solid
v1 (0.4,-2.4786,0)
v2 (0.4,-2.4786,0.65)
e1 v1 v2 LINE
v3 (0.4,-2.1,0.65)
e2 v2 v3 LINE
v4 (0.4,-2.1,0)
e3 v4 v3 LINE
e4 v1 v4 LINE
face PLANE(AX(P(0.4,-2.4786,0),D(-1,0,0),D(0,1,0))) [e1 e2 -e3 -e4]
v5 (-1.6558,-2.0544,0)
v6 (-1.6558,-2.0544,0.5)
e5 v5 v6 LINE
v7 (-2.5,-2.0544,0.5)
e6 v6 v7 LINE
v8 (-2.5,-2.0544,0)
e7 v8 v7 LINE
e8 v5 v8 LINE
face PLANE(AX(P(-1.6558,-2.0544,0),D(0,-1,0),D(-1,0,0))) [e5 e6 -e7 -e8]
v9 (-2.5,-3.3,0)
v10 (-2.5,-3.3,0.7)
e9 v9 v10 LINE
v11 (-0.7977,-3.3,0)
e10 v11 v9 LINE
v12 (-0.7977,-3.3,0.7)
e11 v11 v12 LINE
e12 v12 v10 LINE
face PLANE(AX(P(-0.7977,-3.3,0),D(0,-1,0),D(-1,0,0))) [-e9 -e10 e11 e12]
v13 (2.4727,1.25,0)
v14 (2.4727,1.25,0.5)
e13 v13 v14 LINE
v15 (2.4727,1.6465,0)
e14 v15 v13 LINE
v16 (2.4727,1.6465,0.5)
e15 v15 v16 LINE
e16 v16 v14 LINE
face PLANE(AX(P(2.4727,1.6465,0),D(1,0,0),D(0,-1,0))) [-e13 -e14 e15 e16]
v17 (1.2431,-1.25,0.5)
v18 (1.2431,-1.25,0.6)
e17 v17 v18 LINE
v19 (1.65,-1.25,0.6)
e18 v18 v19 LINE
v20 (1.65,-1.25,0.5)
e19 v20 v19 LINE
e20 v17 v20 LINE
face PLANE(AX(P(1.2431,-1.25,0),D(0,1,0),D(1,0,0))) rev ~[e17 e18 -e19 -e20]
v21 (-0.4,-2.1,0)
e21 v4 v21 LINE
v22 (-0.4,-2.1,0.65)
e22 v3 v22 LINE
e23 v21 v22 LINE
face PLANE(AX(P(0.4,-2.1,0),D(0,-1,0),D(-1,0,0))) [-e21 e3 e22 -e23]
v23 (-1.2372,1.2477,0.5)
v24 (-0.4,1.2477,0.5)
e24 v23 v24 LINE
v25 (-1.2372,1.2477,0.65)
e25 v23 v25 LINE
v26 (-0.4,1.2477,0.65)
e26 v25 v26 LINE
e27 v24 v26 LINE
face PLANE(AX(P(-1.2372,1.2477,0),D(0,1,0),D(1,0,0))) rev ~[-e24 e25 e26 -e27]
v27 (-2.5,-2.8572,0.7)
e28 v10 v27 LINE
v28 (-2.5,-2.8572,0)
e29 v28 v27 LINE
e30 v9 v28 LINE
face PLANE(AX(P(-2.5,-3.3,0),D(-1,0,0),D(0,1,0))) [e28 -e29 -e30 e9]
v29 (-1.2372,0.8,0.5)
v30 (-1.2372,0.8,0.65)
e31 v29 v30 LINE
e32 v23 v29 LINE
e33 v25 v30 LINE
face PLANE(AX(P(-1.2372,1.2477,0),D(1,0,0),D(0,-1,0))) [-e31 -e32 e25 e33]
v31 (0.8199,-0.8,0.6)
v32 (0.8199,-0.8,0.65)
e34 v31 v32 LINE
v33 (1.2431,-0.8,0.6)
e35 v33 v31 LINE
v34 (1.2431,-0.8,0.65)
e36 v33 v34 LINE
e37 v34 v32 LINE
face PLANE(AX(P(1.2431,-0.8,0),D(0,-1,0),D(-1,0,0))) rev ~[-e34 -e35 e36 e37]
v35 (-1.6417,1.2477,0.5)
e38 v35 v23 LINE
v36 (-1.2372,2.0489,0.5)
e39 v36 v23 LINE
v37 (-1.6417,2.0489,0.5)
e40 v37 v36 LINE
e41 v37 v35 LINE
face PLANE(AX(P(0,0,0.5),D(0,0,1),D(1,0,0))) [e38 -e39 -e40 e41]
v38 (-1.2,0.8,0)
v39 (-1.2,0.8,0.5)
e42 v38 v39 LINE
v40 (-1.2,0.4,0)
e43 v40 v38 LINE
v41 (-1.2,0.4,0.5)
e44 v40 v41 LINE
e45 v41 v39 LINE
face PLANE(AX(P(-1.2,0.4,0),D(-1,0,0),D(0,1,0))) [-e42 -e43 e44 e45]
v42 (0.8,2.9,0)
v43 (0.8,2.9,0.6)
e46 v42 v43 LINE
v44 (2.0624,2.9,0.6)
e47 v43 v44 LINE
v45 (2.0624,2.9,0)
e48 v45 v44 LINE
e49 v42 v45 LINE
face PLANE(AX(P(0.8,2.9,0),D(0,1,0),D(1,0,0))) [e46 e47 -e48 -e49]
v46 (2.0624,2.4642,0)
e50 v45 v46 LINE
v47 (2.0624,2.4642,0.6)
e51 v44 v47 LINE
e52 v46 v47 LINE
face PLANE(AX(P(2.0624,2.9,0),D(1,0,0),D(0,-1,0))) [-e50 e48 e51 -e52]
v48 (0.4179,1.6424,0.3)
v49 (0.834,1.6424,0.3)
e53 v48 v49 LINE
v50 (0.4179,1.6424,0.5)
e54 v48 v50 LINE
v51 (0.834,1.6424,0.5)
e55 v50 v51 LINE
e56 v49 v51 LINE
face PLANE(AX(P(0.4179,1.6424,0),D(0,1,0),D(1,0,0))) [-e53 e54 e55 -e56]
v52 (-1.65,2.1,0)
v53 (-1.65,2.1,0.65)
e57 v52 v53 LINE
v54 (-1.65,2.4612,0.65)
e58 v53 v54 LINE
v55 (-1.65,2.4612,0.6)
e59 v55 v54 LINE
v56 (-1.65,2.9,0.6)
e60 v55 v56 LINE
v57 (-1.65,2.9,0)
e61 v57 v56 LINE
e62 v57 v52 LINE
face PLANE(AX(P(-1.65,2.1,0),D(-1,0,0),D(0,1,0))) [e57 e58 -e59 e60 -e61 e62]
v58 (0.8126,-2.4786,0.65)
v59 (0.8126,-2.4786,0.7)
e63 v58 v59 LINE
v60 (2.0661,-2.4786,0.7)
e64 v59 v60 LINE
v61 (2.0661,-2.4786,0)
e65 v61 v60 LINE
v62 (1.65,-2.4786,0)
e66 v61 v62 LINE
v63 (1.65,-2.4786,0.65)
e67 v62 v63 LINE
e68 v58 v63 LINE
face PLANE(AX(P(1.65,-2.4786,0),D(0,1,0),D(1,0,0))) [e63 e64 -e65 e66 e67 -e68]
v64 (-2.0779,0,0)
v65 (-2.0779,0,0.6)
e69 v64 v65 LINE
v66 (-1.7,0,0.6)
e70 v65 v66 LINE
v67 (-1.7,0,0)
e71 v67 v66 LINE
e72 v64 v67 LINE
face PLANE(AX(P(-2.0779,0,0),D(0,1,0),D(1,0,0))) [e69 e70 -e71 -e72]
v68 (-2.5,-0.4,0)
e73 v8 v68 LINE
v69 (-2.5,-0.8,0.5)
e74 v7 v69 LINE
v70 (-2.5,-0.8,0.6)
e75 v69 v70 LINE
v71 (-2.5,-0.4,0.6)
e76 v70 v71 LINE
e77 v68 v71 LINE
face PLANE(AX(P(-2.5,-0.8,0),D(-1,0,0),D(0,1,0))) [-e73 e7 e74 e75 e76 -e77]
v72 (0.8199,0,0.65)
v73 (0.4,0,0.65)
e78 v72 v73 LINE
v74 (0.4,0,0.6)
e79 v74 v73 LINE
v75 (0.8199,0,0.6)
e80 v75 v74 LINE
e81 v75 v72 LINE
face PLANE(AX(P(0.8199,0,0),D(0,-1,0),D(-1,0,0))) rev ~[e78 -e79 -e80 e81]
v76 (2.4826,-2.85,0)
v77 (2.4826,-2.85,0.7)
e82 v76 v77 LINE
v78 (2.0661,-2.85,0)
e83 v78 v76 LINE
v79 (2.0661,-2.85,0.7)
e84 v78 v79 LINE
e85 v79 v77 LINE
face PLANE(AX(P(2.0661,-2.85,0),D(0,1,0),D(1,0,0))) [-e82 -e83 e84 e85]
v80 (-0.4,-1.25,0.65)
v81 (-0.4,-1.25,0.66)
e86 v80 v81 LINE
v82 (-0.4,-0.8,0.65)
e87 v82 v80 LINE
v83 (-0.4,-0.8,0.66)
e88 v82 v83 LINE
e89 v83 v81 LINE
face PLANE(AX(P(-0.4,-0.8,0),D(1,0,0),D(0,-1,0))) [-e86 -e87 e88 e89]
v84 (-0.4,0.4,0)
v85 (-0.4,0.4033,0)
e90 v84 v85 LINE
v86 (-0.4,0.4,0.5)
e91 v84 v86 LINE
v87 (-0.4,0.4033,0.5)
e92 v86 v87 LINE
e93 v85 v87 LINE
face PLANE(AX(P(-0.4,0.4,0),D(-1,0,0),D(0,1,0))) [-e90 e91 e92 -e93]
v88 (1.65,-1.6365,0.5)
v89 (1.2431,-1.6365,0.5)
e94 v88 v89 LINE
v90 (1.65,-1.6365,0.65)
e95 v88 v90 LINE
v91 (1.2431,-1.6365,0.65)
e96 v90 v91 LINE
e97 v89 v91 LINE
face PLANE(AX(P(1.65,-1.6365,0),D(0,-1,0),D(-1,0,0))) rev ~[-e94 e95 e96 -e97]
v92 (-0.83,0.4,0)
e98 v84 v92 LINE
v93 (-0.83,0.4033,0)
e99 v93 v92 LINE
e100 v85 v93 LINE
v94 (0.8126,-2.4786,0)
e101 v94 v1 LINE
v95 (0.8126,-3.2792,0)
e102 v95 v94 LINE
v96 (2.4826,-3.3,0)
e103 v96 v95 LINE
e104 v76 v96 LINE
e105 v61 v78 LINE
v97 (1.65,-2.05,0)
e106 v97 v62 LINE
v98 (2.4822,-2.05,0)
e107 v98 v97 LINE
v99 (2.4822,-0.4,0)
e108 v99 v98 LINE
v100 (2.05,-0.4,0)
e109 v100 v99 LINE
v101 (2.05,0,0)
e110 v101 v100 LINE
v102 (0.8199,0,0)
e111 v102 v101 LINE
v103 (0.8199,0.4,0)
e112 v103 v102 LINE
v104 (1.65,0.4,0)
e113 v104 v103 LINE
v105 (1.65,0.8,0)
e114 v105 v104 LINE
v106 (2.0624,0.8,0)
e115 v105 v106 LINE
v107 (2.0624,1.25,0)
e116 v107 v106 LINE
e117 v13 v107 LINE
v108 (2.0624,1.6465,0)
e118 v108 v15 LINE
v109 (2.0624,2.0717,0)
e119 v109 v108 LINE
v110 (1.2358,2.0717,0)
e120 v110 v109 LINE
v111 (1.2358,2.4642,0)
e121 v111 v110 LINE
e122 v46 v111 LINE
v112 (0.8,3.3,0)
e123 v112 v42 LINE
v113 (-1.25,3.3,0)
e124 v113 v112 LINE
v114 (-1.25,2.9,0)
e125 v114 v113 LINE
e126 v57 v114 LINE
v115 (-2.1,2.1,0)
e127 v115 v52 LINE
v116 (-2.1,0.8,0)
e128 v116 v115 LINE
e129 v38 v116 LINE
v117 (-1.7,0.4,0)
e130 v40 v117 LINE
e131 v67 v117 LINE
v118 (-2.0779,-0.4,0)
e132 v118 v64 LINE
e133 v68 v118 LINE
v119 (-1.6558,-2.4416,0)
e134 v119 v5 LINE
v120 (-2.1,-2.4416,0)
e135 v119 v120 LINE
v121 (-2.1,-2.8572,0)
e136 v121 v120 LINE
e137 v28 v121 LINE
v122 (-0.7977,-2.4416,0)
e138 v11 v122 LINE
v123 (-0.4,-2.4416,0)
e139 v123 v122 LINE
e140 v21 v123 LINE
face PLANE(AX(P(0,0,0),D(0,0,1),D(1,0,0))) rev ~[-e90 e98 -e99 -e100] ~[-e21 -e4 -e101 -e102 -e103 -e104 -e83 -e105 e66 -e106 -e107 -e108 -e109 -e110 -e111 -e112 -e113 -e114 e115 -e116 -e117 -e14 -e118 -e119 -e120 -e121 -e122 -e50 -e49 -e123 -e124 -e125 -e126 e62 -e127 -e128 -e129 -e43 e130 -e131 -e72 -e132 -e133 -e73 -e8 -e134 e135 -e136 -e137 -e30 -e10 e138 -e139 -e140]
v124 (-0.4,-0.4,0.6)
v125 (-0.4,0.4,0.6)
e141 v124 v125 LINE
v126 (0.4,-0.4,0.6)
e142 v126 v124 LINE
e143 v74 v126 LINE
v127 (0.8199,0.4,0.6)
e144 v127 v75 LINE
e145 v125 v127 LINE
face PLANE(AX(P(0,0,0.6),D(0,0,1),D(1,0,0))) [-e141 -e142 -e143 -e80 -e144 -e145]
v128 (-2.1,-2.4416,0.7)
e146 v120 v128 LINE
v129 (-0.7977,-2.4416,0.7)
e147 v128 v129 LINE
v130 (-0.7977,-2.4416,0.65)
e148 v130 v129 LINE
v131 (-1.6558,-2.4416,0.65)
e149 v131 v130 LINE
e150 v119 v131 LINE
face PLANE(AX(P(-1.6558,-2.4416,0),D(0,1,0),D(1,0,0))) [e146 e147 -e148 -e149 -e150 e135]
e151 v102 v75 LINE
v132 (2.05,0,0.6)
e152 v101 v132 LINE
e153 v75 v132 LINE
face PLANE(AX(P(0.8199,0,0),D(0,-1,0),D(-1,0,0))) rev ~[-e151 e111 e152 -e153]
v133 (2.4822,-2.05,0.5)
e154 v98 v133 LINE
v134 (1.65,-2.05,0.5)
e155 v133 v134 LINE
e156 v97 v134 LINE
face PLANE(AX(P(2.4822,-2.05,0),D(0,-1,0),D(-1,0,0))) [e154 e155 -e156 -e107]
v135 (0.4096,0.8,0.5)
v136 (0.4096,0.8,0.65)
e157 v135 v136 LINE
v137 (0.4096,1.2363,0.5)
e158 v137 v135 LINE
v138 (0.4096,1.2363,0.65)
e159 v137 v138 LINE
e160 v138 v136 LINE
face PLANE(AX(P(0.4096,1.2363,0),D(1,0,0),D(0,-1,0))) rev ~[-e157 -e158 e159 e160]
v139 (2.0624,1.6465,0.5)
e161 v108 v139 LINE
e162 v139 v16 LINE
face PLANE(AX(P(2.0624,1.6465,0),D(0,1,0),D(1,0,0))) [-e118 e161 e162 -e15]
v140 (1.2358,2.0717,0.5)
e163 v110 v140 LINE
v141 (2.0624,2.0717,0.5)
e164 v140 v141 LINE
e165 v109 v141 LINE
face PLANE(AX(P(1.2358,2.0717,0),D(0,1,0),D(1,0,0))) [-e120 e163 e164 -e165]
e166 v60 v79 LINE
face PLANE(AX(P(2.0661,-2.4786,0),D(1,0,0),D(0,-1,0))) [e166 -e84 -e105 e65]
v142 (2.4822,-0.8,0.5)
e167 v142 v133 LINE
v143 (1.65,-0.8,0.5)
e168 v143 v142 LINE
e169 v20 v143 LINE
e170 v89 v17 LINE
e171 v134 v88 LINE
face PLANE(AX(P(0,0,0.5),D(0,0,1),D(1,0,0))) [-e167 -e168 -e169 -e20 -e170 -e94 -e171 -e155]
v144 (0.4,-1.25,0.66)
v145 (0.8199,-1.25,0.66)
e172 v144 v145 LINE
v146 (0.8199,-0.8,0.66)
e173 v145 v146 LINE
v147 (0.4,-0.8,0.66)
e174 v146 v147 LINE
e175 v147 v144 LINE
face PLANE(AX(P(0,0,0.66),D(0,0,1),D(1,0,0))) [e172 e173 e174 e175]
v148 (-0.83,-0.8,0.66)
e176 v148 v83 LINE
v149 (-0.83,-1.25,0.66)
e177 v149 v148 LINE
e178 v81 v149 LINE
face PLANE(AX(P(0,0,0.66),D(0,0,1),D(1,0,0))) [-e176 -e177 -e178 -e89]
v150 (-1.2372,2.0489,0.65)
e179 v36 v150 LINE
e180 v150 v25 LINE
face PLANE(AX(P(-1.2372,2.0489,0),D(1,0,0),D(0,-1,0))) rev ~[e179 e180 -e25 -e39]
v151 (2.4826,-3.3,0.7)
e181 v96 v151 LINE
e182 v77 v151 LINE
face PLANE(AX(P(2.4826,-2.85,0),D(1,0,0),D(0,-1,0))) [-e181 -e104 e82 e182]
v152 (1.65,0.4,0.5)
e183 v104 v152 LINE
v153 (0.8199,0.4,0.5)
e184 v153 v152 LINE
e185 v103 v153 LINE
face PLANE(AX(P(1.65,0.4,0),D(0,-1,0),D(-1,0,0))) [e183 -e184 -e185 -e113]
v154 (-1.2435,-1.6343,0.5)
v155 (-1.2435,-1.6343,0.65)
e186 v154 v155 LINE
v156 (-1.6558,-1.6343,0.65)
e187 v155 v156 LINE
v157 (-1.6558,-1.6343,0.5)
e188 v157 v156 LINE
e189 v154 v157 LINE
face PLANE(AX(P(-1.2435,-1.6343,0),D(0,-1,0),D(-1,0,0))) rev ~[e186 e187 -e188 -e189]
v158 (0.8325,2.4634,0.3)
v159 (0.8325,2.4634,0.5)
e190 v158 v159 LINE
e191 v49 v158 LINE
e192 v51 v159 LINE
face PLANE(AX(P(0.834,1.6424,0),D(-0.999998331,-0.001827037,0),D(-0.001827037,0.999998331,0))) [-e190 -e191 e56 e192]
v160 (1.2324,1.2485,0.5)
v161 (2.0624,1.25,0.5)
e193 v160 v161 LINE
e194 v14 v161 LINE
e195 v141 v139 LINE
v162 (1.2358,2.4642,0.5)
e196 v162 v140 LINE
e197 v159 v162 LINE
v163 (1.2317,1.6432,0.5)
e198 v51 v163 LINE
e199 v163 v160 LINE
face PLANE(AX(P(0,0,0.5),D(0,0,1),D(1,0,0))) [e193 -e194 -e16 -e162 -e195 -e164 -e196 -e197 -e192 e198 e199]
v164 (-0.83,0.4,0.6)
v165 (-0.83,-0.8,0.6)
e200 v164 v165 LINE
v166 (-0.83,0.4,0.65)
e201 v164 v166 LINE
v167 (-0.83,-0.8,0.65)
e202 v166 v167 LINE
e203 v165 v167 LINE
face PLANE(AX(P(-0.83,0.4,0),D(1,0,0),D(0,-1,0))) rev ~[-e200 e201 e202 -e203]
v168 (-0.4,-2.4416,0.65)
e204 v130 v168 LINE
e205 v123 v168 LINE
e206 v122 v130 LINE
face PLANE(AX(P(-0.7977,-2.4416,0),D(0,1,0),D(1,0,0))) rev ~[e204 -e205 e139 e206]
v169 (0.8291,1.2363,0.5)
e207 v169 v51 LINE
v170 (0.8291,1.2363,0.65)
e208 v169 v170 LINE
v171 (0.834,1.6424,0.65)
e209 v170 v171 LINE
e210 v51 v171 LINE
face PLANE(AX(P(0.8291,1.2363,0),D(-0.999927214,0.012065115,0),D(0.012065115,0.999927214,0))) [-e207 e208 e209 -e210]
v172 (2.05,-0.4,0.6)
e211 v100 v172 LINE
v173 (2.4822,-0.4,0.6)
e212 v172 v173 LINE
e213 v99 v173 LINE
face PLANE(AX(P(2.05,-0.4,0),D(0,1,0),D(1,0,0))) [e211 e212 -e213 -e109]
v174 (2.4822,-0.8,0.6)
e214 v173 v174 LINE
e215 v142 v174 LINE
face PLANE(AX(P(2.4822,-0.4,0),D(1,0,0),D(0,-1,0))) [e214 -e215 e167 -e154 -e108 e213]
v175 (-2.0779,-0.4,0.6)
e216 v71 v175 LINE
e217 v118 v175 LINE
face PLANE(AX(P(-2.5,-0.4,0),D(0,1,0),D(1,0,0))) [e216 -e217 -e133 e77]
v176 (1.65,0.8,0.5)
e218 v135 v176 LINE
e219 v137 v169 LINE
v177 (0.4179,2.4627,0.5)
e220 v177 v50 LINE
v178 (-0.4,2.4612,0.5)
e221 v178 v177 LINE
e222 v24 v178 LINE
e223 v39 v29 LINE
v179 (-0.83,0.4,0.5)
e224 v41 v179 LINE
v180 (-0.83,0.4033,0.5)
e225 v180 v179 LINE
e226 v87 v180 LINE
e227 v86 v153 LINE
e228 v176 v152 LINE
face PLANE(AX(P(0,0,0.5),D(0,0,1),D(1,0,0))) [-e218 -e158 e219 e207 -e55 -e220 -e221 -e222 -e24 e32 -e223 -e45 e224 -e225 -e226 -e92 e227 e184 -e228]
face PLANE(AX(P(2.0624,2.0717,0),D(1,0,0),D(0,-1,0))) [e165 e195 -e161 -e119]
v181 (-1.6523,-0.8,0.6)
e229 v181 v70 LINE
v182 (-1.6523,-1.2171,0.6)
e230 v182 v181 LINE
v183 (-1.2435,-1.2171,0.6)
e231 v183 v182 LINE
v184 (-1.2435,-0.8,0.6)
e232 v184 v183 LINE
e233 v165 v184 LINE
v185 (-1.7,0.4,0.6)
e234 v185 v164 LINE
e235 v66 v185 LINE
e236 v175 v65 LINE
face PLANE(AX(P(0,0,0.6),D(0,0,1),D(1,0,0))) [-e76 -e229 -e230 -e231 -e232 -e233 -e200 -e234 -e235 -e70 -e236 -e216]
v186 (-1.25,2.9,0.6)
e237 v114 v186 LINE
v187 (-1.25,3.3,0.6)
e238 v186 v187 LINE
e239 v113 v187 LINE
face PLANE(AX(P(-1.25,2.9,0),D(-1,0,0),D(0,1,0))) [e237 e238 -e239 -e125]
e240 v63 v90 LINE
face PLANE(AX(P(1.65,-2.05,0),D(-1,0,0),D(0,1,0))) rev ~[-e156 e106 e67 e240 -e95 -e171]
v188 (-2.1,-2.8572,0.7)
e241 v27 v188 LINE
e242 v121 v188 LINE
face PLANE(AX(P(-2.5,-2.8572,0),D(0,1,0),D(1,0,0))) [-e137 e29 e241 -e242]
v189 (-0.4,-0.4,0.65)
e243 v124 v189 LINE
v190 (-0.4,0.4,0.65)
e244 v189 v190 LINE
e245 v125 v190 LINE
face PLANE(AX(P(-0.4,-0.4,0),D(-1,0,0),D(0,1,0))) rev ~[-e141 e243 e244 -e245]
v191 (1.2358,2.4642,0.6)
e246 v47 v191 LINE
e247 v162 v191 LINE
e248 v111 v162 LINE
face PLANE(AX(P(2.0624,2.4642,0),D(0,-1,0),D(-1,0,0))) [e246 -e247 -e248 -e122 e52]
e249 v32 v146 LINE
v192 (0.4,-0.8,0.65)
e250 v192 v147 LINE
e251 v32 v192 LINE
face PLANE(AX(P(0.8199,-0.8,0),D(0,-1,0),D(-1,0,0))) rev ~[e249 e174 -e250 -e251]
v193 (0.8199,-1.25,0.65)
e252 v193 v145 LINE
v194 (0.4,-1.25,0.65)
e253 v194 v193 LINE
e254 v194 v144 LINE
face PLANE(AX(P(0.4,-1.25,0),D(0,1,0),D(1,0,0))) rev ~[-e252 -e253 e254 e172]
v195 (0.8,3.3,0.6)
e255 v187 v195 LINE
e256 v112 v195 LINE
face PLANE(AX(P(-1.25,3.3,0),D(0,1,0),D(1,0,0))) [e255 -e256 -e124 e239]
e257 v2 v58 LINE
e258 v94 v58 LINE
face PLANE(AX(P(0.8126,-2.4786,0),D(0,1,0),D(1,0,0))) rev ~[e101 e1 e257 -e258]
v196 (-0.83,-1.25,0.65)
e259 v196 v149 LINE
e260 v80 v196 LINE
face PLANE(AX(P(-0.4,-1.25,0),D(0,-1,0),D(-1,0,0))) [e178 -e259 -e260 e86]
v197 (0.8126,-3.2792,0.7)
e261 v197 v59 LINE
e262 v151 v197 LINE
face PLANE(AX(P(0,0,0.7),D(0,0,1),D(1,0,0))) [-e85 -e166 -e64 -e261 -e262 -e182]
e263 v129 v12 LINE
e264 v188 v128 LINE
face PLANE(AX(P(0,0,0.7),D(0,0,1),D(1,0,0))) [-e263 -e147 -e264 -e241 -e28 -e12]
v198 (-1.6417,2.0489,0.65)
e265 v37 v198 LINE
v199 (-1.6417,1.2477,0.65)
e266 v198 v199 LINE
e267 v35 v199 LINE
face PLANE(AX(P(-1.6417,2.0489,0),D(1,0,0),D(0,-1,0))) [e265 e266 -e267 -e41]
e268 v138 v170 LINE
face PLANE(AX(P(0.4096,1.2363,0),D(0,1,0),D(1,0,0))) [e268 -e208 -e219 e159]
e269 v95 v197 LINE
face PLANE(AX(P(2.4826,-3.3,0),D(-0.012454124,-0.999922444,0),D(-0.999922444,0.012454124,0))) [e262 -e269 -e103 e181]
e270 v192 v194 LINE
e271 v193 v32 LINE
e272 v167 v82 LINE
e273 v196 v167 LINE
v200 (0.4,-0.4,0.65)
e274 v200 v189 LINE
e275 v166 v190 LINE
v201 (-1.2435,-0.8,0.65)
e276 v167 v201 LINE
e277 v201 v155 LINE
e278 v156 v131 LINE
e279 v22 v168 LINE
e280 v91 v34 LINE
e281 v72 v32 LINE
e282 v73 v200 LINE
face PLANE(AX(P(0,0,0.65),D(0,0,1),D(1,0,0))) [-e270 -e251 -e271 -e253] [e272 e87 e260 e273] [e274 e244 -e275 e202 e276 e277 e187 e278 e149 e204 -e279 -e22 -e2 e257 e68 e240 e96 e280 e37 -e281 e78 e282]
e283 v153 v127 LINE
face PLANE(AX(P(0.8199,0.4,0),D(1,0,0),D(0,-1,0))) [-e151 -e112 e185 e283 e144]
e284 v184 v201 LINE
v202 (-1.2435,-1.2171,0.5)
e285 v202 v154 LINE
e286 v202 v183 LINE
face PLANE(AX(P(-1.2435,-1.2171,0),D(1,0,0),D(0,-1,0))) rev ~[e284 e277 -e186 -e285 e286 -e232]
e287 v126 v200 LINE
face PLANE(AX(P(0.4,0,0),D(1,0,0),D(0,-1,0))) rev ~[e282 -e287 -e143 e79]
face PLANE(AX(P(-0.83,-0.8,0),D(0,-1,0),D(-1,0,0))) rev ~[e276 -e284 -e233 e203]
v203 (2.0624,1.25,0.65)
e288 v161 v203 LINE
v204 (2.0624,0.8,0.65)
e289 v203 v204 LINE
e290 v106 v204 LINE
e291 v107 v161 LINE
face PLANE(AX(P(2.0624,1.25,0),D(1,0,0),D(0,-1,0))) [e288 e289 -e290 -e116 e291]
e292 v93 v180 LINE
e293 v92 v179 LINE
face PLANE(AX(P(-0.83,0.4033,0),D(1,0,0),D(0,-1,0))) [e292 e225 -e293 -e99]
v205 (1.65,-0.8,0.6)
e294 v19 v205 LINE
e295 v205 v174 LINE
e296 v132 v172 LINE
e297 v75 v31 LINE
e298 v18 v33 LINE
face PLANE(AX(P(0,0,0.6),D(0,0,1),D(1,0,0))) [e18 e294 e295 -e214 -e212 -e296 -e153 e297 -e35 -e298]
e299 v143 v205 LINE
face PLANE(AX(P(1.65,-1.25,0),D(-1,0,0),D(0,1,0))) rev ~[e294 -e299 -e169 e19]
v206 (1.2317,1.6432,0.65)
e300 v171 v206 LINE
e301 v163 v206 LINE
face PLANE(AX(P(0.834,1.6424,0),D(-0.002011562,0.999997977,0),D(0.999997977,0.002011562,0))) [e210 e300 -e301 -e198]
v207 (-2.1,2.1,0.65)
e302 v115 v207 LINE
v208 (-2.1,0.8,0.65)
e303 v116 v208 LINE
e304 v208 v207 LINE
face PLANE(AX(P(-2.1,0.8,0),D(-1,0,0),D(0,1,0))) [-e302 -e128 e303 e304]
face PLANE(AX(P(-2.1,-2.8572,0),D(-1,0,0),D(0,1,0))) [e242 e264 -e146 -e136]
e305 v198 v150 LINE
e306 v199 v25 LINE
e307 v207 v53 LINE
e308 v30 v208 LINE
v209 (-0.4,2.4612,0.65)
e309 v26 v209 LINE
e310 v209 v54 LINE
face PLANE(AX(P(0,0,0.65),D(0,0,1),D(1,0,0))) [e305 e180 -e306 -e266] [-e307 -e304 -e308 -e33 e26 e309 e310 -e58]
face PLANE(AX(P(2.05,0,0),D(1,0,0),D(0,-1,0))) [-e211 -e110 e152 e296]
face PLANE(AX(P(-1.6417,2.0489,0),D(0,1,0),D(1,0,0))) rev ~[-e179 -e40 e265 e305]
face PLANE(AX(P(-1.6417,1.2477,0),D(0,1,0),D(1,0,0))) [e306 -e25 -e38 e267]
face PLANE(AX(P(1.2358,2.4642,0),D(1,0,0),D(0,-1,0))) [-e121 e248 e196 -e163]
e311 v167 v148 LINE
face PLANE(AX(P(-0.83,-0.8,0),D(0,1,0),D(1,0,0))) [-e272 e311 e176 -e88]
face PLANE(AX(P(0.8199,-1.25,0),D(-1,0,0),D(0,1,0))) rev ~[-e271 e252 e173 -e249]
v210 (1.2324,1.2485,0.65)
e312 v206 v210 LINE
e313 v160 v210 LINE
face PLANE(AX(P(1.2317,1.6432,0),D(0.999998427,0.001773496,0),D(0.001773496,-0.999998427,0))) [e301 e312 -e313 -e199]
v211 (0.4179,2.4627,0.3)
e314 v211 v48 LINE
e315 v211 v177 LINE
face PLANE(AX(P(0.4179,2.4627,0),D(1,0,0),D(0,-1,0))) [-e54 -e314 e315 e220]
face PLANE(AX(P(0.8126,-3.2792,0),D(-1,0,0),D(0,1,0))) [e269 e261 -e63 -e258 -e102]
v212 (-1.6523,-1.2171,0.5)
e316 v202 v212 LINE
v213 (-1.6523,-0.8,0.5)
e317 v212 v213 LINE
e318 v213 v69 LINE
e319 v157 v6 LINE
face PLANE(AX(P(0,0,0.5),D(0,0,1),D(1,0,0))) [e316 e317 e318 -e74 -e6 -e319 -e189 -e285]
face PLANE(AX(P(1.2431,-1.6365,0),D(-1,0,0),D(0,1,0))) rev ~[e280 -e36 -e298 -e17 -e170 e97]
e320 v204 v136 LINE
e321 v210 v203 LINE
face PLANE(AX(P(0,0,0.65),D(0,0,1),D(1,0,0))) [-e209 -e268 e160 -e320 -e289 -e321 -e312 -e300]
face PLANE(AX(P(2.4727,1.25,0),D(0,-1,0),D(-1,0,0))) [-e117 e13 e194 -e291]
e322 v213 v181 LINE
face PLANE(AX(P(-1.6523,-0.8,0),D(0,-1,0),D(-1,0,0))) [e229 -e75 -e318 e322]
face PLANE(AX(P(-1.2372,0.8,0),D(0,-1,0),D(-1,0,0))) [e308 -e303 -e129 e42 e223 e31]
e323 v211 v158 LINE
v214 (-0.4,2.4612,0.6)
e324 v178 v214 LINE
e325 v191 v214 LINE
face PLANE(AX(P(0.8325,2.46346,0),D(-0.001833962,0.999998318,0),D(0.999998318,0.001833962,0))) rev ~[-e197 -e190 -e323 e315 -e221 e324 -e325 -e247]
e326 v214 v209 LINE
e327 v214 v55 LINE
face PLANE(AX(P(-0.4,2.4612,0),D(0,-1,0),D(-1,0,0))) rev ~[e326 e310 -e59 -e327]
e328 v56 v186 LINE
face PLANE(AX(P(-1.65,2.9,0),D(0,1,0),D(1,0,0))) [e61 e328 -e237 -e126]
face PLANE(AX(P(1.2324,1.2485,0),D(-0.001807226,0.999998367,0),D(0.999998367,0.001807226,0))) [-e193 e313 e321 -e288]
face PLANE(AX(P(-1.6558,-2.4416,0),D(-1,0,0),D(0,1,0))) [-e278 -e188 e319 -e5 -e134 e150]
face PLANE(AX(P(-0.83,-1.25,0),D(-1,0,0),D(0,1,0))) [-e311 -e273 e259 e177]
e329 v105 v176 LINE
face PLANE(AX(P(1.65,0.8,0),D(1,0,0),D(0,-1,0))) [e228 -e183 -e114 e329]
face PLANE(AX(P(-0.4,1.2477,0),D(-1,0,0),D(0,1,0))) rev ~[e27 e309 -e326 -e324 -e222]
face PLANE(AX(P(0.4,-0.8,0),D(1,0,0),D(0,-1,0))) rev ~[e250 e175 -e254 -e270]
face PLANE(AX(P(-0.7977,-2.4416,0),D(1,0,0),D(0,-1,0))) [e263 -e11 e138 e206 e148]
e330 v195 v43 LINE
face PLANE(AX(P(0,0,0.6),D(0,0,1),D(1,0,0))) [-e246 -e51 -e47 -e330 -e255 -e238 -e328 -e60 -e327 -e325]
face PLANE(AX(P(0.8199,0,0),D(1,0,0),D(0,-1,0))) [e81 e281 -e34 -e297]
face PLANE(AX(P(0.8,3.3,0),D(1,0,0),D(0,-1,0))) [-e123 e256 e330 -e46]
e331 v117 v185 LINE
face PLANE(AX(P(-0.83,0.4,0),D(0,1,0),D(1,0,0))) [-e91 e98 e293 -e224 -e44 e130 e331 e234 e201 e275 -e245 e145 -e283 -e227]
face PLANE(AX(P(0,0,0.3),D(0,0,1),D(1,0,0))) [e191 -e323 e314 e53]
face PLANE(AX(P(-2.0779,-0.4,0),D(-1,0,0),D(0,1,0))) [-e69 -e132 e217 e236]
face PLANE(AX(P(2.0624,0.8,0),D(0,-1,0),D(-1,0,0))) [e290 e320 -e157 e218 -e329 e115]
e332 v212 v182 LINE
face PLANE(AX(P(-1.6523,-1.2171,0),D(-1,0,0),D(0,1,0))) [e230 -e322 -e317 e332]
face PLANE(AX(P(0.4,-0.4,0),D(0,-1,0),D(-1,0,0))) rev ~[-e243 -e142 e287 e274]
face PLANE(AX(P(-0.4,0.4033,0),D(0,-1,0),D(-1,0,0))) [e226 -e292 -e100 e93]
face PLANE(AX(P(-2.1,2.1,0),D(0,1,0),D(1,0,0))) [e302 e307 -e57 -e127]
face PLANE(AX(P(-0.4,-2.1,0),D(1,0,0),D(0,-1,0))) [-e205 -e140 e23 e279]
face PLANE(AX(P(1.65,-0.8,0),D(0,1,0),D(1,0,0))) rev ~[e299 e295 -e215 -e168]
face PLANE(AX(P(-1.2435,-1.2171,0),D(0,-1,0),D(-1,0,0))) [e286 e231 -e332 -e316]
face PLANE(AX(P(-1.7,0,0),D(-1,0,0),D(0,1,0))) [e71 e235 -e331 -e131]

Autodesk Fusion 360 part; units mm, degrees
sketch "Mario" plane through (0, 0, 0) normal (0, 0, 1) x (1, 0, 0)
  line L0 (-1.25, 3.3) -> (0.8, 3.3)
  line L1 (0.8, 3.3) -> (0.8, 2.9)
  line L2 (0.8, 2.9) -> (2.0624, 2.9)
  line L3 (2.0624, 2.9) -> (2.0624, 2.4642)
  line L4 (2.0624, 2.4642) -> (1.2358, 2.4642)
  line L5 (1.2358, 2.4642) -> (1.2358, 2.0717)
  line L6 (1.2358, 2.0717) -> (2.0624, 2.0717)
  line L7 (2.0624, 2.0717) -> (2.0624, 1.6465)
  line L8 (2.0624, 1.6465) -> (2.4727, 1.6465)
  line L9 (2.4727, 1.6465) -> (2.4727, 1.25)
  line L10 (2.4727, 1.25) -> (2.0624, 1.25)
  line L11 (2.0624, 1.25) -> (2.0624, 0.8)
  line L12 (2.0624, 0.8) -> (1.65, 0.8)
  line L13 (1.65, 0.8) -> (1.65, 0.4)
  line L14 (1.65, 0.4) -> (0.8199, 0.4)
  line L15 (0.8199, 0.4) -> (0.8199, 0)
  line L16 (0.8199, 0) -> (2.05, 0)
  line L17 (2.05, 0) -> (2.05, -0.4)
  line L18 (2.05, -0.4) -> (2.4822, -0.4)
  line L19 (2.4822, -0.4) -> (2.4822, -2.05)
  line L20 (2.4822, -2.05) -> (1.65, -2.05)
  line L21 (1.65, -2.05) -> (1.65, -2.4786)
  line L22 (1.65, -2.4786) -> (2.0661, -2.4786)
  line L23 (2.0661, -2.4786) -> (2.0661, -2.85)
  line L24 (2.0661, -2.85) -> (2.4826, -2.85)
  line L25 (2.4826, -2.85) -> (2.4826, -3.3)
  line L26 (2.4826, -3.3) -> (0.8126, -3.2792)
  line L27 (0.8126, -3.2792) -> (0.8126, -2.4786)
  line L28 (0.8126, -2.4786) -> (0.4, -2.4786)
  line L29 (0.4, -2.4786) -> (0.4, -2.1)
  line L30 (0.4, -2.1) -> (-0.4, -2.1)
  line L31 (-0.4, -2.1) -> (-0.4, -2.4416)
  line L32 (-0.7977, -2.4487) -> (-0.7977, -3.3)
  line L33 (-0.7977, -3.3) -> (-2.5, -3.3)
  line L34 (-2.5, -3.3) -> (-2.5, -2.8572)
  line L35 (-2.5, -2.8572) -> (-2.1, -2.8572)
  line L36 (-2.1, -2.8572) -> (-2.1, -2.4416)
  line L37 (-2.1, -2.4416) -> (-1.6558, -2.4416)
  line L38 (-1.6558, -2.4416) -> (-1.6558, -2.0544)
  line L39 (-1.6558, -2.0544) -> (-2.5, -2.0544)
  line L40 (-2.5, -2.0544) -> (-2.5, -0.4)
  line L41 (-2.5, -0.4) -> (-2.0779, -0.4)
  line L42 (-2.0779, -0.4) -> (-2.0779, 0)
  line L43 (-2.0779, 0) -> (-1.7, 0)
  line L44 (-1.7, 0) -> (-1.7, 0.4)
  line L45 (-1.7, 0.4) -> (-1.2, 0.4)
  line L46 (-1.2, 0.4) -> (-1.2, 0.8)
  line L47 (-1.2, 0.8) -> (-2.1, 0.8)
  line L48 (-2.1, 0.8) -> (-2.1, 2.1)
  line L49 (-2.1, 2.1) -> (-1.65, 2.1)
  line L50 (-1.65, 2.1) -> (-1.65, 2.9)
  line L51 (-1.65, 2.9) -> (-1.25, 2.9)
  line L52 (-1.25, 2.9) -> (-1.25, 3.3)
  line L53 (-1.6417, 2.0489) -> (-1.6417, 1.2477)
  line L54 (-1.6417, 1.2477) -> (-1.2372, 1.2477)
  line L55 (-1.2372, 1.2477) -> (-1.2372, 0.8)
  line L56 (-1.6417, 2.0489) -> (-1.2372, 2.0489)
  line L57 (-1.2372, 2.0489) -> (-1.2372, 1.2477)
  line L58 (-1.2372, 1.2477) -> (-0.4, 1.2477)
  line L59 (-0.4, 1.2477) -> (-0.4, 2.4612)
  line L60 (-0.4, 2.4612) -> (-1.65, 2.4612)
  line L61 (-0.4, 2.4612) -> (1.2358, 2.4642)
  line L62 (0.4179, 2.4627) -> (0.4179, 1.6424)
  line L63 (0.4179, 1.6424) -> (0.834, 1.6424)
  line L64 (0.834, 1.6424) -> (0.8325, 2.4634)
  line L65 (0.834, 1.6424) -> (1.2317, 1.6432)
  line L66 (1.2317, 1.6432) -> (1.2324, 1.2485)
  line L67 (1.2324, 1.2485) -> (2.0624, 1.25)
  line L68 (0.834, 1.6424) -> (0.8332, 2.0529)
  line L69 (0.4096, 1.2363) -> (0.8291, 1.2363)
  line L70 (0.8291, 1.2363) -> (0.834, 1.6424)
  line L71 (0.4096, 1.2363) -> (0.4096, 0.8)
  line L72 (0.4096, 0.8) -> (1.65, 0.8)
  line L73 (-0.83, 0.4033) -> (-0.83, -0.8)
  line L74 (-0.83, -0.8) -> (-1.2435, -0.8)
  line L75 (-1.2435, -0.8) -> (-1.2435, -1.6343)
  line L76 (-1.2435, -1.6343) -> (-1.6558, -1.6343)
  line L77 (-1.6558, -1.6343) -> (-1.6558, -2.0544)
  line L78 (-1.2435, -1.2171) -> (-1.6523, -1.2171)
  line L79 (-1.6523, -1.2171) -> (-1.6523, -0.8)
  line L80 (-1.6523, -0.8) -> (-2.5, -0.8)
  line L81 (-1.6558, -2.4416) -> (-0.7977, -2.4416)
  line L82 (-0.7977, -2.4416) -> (-0.7977, -2.4487)
  line L83 (-0.7977, -2.4416) -> (-0.4, -2.4416)
  line L84 (0.8126, -2.4786) -> (1.65, -2.4786)
  line L85 (1.65, -2.05) -> (1.65, -1.6365)
  line L86 (1.65, -1.6365) -> (1.2431, -1.6365)
  line L87 (1.2431, -1.6365) -> (1.2431, -0.8)
  line L88 (1.2431, -0.8) -> (0.8199, -0.8)
  line L89 (0.8199, 0) -> (0.8199, -0.8)
  line L90 (0.8199, 0) -> (0.4, 0)
  line L91 (0.4, 0) -> (0.4, -0.4)
  line L92 (0.4, -0.4) -> (-0.4, -0.4)
  line L93 (-0.4, -0.4) -> (-0.4, 0.4033)
  line L94 (-0.4, 0.4033) -> (-0.83, 0.4033)
  line L95 (-1.2, 0.4) -> (0.8199, 0.4)
  line L96 (-0.83, -0.8) -> (-0.4, -0.8)
  line L97 (-0.4, -0.8) -> (-0.4, -1.25)
  line L98 (-0.4, -1.25) -> (-0.83, -1.25)
  line L99 (-0.83, -1.25) -> (-0.83, -0.8)
  line L100 (0.8199, -0.8) -> (0.4, -0.8)
  line L101 (0.4, -0.8) -> (0.4, -1.25)
  line L102 (0.4, -1.25) -> (0.8199, -1.25)
  line L103 (0.8199, -1.25) -> (0.8199, -0.8)
  line L104 (1.2431, -1.25) -> (1.65, -1.25)
  line L105 (1.65, -1.25) -> (1.65, -0.8)
  line L106 (1.65, -0.8) -> (2.4822, -0.8)
extrude "Extrude1" add sketch "Mario" along normal blind 0.5 contours L53 L54 L56 L57 | L13 L14 L46 L47 L55 L58 L59 L61 L62 L63 L69 L70 L71 L72 L73 L93 L94 L95 | L5 L6 L7 L8 L9 L10 L61 L64 L65 L66 L67 L68 | L39 L40 L75 L76 L77 L78 L79 L80 | L19 L20 L85 L86 L87 L104 L105 L106 makes body 1 at (-0.1274, 1.7838, 0) makes body 2 at (2.2048, -1.3667, 0) makes body 3 at (-2.2186, -1.4962, 0)
extrude "Extrude2" add sketch "Mario" along normal blind 0.3 separate body contours L61 L62 L63 L64 L68 makes body 4
extrude "Extrude3" add sketch "Mario" along normal blind 0.6 separate body contours L0 L1 L2 L3 L4 L50 L51 L52 L60 L61 | L40 L41 L42 L43 L44 L45 L73 L74 L75 L78 L79 L80 L95 | L15 L90 L91 L92 L93 L95 | L16 L17 L18 L19 L87 L88 L89 L104 L105 L106 makes body 5 at (-1.2578, -0.1333, 0) makes body 6 at (1.371, -0.2667, 0) makes body 7 at (-0.2833, 3.0204, 0)
extrude "Extrude4" add sketch "Mario" along normal blind 0.65 separate body contours L47 L48 L49 L50 L55 L58 L59 L60 | L11 L12 L65 L66 L67 L69 L70 L71 L72 makes body 8 at (-0.6791, 1.9193, 0) makes body 9 at (1.5114, 0.8, 0.2167)
extrude "Extrude5" add sketch "Mario" along normal blind 0.65 separate body contours L21 L28 L29 L30 L31 L38 L73 L74 L75 L76 L77 L81 L83 L84 L85 L86 L87 L88 L89 L90 L91 L92 L93 L95 makes body 10
extrude "Extrude6" add sketch "Mario" along normal blind 0.7 separate body contours L32 L33 L34 L35 L36 L37 L81 L82 | L22 L23 L24 L25 L26 L27 L84 makes body 11 at (-1.2318, -2.8663, 0) makes body 12 at (1.2304, -2.8693, 0)
extrude "Extrude7" add sketch "Mario" along normal blind 0.66 contours L96 L97 L98 L99 | L100 L101 L102 L103 bodies 10 5 6
combine "Combine1" operation add target body 7 tool bodies 8 4 9 1 10 3 11 12 2
